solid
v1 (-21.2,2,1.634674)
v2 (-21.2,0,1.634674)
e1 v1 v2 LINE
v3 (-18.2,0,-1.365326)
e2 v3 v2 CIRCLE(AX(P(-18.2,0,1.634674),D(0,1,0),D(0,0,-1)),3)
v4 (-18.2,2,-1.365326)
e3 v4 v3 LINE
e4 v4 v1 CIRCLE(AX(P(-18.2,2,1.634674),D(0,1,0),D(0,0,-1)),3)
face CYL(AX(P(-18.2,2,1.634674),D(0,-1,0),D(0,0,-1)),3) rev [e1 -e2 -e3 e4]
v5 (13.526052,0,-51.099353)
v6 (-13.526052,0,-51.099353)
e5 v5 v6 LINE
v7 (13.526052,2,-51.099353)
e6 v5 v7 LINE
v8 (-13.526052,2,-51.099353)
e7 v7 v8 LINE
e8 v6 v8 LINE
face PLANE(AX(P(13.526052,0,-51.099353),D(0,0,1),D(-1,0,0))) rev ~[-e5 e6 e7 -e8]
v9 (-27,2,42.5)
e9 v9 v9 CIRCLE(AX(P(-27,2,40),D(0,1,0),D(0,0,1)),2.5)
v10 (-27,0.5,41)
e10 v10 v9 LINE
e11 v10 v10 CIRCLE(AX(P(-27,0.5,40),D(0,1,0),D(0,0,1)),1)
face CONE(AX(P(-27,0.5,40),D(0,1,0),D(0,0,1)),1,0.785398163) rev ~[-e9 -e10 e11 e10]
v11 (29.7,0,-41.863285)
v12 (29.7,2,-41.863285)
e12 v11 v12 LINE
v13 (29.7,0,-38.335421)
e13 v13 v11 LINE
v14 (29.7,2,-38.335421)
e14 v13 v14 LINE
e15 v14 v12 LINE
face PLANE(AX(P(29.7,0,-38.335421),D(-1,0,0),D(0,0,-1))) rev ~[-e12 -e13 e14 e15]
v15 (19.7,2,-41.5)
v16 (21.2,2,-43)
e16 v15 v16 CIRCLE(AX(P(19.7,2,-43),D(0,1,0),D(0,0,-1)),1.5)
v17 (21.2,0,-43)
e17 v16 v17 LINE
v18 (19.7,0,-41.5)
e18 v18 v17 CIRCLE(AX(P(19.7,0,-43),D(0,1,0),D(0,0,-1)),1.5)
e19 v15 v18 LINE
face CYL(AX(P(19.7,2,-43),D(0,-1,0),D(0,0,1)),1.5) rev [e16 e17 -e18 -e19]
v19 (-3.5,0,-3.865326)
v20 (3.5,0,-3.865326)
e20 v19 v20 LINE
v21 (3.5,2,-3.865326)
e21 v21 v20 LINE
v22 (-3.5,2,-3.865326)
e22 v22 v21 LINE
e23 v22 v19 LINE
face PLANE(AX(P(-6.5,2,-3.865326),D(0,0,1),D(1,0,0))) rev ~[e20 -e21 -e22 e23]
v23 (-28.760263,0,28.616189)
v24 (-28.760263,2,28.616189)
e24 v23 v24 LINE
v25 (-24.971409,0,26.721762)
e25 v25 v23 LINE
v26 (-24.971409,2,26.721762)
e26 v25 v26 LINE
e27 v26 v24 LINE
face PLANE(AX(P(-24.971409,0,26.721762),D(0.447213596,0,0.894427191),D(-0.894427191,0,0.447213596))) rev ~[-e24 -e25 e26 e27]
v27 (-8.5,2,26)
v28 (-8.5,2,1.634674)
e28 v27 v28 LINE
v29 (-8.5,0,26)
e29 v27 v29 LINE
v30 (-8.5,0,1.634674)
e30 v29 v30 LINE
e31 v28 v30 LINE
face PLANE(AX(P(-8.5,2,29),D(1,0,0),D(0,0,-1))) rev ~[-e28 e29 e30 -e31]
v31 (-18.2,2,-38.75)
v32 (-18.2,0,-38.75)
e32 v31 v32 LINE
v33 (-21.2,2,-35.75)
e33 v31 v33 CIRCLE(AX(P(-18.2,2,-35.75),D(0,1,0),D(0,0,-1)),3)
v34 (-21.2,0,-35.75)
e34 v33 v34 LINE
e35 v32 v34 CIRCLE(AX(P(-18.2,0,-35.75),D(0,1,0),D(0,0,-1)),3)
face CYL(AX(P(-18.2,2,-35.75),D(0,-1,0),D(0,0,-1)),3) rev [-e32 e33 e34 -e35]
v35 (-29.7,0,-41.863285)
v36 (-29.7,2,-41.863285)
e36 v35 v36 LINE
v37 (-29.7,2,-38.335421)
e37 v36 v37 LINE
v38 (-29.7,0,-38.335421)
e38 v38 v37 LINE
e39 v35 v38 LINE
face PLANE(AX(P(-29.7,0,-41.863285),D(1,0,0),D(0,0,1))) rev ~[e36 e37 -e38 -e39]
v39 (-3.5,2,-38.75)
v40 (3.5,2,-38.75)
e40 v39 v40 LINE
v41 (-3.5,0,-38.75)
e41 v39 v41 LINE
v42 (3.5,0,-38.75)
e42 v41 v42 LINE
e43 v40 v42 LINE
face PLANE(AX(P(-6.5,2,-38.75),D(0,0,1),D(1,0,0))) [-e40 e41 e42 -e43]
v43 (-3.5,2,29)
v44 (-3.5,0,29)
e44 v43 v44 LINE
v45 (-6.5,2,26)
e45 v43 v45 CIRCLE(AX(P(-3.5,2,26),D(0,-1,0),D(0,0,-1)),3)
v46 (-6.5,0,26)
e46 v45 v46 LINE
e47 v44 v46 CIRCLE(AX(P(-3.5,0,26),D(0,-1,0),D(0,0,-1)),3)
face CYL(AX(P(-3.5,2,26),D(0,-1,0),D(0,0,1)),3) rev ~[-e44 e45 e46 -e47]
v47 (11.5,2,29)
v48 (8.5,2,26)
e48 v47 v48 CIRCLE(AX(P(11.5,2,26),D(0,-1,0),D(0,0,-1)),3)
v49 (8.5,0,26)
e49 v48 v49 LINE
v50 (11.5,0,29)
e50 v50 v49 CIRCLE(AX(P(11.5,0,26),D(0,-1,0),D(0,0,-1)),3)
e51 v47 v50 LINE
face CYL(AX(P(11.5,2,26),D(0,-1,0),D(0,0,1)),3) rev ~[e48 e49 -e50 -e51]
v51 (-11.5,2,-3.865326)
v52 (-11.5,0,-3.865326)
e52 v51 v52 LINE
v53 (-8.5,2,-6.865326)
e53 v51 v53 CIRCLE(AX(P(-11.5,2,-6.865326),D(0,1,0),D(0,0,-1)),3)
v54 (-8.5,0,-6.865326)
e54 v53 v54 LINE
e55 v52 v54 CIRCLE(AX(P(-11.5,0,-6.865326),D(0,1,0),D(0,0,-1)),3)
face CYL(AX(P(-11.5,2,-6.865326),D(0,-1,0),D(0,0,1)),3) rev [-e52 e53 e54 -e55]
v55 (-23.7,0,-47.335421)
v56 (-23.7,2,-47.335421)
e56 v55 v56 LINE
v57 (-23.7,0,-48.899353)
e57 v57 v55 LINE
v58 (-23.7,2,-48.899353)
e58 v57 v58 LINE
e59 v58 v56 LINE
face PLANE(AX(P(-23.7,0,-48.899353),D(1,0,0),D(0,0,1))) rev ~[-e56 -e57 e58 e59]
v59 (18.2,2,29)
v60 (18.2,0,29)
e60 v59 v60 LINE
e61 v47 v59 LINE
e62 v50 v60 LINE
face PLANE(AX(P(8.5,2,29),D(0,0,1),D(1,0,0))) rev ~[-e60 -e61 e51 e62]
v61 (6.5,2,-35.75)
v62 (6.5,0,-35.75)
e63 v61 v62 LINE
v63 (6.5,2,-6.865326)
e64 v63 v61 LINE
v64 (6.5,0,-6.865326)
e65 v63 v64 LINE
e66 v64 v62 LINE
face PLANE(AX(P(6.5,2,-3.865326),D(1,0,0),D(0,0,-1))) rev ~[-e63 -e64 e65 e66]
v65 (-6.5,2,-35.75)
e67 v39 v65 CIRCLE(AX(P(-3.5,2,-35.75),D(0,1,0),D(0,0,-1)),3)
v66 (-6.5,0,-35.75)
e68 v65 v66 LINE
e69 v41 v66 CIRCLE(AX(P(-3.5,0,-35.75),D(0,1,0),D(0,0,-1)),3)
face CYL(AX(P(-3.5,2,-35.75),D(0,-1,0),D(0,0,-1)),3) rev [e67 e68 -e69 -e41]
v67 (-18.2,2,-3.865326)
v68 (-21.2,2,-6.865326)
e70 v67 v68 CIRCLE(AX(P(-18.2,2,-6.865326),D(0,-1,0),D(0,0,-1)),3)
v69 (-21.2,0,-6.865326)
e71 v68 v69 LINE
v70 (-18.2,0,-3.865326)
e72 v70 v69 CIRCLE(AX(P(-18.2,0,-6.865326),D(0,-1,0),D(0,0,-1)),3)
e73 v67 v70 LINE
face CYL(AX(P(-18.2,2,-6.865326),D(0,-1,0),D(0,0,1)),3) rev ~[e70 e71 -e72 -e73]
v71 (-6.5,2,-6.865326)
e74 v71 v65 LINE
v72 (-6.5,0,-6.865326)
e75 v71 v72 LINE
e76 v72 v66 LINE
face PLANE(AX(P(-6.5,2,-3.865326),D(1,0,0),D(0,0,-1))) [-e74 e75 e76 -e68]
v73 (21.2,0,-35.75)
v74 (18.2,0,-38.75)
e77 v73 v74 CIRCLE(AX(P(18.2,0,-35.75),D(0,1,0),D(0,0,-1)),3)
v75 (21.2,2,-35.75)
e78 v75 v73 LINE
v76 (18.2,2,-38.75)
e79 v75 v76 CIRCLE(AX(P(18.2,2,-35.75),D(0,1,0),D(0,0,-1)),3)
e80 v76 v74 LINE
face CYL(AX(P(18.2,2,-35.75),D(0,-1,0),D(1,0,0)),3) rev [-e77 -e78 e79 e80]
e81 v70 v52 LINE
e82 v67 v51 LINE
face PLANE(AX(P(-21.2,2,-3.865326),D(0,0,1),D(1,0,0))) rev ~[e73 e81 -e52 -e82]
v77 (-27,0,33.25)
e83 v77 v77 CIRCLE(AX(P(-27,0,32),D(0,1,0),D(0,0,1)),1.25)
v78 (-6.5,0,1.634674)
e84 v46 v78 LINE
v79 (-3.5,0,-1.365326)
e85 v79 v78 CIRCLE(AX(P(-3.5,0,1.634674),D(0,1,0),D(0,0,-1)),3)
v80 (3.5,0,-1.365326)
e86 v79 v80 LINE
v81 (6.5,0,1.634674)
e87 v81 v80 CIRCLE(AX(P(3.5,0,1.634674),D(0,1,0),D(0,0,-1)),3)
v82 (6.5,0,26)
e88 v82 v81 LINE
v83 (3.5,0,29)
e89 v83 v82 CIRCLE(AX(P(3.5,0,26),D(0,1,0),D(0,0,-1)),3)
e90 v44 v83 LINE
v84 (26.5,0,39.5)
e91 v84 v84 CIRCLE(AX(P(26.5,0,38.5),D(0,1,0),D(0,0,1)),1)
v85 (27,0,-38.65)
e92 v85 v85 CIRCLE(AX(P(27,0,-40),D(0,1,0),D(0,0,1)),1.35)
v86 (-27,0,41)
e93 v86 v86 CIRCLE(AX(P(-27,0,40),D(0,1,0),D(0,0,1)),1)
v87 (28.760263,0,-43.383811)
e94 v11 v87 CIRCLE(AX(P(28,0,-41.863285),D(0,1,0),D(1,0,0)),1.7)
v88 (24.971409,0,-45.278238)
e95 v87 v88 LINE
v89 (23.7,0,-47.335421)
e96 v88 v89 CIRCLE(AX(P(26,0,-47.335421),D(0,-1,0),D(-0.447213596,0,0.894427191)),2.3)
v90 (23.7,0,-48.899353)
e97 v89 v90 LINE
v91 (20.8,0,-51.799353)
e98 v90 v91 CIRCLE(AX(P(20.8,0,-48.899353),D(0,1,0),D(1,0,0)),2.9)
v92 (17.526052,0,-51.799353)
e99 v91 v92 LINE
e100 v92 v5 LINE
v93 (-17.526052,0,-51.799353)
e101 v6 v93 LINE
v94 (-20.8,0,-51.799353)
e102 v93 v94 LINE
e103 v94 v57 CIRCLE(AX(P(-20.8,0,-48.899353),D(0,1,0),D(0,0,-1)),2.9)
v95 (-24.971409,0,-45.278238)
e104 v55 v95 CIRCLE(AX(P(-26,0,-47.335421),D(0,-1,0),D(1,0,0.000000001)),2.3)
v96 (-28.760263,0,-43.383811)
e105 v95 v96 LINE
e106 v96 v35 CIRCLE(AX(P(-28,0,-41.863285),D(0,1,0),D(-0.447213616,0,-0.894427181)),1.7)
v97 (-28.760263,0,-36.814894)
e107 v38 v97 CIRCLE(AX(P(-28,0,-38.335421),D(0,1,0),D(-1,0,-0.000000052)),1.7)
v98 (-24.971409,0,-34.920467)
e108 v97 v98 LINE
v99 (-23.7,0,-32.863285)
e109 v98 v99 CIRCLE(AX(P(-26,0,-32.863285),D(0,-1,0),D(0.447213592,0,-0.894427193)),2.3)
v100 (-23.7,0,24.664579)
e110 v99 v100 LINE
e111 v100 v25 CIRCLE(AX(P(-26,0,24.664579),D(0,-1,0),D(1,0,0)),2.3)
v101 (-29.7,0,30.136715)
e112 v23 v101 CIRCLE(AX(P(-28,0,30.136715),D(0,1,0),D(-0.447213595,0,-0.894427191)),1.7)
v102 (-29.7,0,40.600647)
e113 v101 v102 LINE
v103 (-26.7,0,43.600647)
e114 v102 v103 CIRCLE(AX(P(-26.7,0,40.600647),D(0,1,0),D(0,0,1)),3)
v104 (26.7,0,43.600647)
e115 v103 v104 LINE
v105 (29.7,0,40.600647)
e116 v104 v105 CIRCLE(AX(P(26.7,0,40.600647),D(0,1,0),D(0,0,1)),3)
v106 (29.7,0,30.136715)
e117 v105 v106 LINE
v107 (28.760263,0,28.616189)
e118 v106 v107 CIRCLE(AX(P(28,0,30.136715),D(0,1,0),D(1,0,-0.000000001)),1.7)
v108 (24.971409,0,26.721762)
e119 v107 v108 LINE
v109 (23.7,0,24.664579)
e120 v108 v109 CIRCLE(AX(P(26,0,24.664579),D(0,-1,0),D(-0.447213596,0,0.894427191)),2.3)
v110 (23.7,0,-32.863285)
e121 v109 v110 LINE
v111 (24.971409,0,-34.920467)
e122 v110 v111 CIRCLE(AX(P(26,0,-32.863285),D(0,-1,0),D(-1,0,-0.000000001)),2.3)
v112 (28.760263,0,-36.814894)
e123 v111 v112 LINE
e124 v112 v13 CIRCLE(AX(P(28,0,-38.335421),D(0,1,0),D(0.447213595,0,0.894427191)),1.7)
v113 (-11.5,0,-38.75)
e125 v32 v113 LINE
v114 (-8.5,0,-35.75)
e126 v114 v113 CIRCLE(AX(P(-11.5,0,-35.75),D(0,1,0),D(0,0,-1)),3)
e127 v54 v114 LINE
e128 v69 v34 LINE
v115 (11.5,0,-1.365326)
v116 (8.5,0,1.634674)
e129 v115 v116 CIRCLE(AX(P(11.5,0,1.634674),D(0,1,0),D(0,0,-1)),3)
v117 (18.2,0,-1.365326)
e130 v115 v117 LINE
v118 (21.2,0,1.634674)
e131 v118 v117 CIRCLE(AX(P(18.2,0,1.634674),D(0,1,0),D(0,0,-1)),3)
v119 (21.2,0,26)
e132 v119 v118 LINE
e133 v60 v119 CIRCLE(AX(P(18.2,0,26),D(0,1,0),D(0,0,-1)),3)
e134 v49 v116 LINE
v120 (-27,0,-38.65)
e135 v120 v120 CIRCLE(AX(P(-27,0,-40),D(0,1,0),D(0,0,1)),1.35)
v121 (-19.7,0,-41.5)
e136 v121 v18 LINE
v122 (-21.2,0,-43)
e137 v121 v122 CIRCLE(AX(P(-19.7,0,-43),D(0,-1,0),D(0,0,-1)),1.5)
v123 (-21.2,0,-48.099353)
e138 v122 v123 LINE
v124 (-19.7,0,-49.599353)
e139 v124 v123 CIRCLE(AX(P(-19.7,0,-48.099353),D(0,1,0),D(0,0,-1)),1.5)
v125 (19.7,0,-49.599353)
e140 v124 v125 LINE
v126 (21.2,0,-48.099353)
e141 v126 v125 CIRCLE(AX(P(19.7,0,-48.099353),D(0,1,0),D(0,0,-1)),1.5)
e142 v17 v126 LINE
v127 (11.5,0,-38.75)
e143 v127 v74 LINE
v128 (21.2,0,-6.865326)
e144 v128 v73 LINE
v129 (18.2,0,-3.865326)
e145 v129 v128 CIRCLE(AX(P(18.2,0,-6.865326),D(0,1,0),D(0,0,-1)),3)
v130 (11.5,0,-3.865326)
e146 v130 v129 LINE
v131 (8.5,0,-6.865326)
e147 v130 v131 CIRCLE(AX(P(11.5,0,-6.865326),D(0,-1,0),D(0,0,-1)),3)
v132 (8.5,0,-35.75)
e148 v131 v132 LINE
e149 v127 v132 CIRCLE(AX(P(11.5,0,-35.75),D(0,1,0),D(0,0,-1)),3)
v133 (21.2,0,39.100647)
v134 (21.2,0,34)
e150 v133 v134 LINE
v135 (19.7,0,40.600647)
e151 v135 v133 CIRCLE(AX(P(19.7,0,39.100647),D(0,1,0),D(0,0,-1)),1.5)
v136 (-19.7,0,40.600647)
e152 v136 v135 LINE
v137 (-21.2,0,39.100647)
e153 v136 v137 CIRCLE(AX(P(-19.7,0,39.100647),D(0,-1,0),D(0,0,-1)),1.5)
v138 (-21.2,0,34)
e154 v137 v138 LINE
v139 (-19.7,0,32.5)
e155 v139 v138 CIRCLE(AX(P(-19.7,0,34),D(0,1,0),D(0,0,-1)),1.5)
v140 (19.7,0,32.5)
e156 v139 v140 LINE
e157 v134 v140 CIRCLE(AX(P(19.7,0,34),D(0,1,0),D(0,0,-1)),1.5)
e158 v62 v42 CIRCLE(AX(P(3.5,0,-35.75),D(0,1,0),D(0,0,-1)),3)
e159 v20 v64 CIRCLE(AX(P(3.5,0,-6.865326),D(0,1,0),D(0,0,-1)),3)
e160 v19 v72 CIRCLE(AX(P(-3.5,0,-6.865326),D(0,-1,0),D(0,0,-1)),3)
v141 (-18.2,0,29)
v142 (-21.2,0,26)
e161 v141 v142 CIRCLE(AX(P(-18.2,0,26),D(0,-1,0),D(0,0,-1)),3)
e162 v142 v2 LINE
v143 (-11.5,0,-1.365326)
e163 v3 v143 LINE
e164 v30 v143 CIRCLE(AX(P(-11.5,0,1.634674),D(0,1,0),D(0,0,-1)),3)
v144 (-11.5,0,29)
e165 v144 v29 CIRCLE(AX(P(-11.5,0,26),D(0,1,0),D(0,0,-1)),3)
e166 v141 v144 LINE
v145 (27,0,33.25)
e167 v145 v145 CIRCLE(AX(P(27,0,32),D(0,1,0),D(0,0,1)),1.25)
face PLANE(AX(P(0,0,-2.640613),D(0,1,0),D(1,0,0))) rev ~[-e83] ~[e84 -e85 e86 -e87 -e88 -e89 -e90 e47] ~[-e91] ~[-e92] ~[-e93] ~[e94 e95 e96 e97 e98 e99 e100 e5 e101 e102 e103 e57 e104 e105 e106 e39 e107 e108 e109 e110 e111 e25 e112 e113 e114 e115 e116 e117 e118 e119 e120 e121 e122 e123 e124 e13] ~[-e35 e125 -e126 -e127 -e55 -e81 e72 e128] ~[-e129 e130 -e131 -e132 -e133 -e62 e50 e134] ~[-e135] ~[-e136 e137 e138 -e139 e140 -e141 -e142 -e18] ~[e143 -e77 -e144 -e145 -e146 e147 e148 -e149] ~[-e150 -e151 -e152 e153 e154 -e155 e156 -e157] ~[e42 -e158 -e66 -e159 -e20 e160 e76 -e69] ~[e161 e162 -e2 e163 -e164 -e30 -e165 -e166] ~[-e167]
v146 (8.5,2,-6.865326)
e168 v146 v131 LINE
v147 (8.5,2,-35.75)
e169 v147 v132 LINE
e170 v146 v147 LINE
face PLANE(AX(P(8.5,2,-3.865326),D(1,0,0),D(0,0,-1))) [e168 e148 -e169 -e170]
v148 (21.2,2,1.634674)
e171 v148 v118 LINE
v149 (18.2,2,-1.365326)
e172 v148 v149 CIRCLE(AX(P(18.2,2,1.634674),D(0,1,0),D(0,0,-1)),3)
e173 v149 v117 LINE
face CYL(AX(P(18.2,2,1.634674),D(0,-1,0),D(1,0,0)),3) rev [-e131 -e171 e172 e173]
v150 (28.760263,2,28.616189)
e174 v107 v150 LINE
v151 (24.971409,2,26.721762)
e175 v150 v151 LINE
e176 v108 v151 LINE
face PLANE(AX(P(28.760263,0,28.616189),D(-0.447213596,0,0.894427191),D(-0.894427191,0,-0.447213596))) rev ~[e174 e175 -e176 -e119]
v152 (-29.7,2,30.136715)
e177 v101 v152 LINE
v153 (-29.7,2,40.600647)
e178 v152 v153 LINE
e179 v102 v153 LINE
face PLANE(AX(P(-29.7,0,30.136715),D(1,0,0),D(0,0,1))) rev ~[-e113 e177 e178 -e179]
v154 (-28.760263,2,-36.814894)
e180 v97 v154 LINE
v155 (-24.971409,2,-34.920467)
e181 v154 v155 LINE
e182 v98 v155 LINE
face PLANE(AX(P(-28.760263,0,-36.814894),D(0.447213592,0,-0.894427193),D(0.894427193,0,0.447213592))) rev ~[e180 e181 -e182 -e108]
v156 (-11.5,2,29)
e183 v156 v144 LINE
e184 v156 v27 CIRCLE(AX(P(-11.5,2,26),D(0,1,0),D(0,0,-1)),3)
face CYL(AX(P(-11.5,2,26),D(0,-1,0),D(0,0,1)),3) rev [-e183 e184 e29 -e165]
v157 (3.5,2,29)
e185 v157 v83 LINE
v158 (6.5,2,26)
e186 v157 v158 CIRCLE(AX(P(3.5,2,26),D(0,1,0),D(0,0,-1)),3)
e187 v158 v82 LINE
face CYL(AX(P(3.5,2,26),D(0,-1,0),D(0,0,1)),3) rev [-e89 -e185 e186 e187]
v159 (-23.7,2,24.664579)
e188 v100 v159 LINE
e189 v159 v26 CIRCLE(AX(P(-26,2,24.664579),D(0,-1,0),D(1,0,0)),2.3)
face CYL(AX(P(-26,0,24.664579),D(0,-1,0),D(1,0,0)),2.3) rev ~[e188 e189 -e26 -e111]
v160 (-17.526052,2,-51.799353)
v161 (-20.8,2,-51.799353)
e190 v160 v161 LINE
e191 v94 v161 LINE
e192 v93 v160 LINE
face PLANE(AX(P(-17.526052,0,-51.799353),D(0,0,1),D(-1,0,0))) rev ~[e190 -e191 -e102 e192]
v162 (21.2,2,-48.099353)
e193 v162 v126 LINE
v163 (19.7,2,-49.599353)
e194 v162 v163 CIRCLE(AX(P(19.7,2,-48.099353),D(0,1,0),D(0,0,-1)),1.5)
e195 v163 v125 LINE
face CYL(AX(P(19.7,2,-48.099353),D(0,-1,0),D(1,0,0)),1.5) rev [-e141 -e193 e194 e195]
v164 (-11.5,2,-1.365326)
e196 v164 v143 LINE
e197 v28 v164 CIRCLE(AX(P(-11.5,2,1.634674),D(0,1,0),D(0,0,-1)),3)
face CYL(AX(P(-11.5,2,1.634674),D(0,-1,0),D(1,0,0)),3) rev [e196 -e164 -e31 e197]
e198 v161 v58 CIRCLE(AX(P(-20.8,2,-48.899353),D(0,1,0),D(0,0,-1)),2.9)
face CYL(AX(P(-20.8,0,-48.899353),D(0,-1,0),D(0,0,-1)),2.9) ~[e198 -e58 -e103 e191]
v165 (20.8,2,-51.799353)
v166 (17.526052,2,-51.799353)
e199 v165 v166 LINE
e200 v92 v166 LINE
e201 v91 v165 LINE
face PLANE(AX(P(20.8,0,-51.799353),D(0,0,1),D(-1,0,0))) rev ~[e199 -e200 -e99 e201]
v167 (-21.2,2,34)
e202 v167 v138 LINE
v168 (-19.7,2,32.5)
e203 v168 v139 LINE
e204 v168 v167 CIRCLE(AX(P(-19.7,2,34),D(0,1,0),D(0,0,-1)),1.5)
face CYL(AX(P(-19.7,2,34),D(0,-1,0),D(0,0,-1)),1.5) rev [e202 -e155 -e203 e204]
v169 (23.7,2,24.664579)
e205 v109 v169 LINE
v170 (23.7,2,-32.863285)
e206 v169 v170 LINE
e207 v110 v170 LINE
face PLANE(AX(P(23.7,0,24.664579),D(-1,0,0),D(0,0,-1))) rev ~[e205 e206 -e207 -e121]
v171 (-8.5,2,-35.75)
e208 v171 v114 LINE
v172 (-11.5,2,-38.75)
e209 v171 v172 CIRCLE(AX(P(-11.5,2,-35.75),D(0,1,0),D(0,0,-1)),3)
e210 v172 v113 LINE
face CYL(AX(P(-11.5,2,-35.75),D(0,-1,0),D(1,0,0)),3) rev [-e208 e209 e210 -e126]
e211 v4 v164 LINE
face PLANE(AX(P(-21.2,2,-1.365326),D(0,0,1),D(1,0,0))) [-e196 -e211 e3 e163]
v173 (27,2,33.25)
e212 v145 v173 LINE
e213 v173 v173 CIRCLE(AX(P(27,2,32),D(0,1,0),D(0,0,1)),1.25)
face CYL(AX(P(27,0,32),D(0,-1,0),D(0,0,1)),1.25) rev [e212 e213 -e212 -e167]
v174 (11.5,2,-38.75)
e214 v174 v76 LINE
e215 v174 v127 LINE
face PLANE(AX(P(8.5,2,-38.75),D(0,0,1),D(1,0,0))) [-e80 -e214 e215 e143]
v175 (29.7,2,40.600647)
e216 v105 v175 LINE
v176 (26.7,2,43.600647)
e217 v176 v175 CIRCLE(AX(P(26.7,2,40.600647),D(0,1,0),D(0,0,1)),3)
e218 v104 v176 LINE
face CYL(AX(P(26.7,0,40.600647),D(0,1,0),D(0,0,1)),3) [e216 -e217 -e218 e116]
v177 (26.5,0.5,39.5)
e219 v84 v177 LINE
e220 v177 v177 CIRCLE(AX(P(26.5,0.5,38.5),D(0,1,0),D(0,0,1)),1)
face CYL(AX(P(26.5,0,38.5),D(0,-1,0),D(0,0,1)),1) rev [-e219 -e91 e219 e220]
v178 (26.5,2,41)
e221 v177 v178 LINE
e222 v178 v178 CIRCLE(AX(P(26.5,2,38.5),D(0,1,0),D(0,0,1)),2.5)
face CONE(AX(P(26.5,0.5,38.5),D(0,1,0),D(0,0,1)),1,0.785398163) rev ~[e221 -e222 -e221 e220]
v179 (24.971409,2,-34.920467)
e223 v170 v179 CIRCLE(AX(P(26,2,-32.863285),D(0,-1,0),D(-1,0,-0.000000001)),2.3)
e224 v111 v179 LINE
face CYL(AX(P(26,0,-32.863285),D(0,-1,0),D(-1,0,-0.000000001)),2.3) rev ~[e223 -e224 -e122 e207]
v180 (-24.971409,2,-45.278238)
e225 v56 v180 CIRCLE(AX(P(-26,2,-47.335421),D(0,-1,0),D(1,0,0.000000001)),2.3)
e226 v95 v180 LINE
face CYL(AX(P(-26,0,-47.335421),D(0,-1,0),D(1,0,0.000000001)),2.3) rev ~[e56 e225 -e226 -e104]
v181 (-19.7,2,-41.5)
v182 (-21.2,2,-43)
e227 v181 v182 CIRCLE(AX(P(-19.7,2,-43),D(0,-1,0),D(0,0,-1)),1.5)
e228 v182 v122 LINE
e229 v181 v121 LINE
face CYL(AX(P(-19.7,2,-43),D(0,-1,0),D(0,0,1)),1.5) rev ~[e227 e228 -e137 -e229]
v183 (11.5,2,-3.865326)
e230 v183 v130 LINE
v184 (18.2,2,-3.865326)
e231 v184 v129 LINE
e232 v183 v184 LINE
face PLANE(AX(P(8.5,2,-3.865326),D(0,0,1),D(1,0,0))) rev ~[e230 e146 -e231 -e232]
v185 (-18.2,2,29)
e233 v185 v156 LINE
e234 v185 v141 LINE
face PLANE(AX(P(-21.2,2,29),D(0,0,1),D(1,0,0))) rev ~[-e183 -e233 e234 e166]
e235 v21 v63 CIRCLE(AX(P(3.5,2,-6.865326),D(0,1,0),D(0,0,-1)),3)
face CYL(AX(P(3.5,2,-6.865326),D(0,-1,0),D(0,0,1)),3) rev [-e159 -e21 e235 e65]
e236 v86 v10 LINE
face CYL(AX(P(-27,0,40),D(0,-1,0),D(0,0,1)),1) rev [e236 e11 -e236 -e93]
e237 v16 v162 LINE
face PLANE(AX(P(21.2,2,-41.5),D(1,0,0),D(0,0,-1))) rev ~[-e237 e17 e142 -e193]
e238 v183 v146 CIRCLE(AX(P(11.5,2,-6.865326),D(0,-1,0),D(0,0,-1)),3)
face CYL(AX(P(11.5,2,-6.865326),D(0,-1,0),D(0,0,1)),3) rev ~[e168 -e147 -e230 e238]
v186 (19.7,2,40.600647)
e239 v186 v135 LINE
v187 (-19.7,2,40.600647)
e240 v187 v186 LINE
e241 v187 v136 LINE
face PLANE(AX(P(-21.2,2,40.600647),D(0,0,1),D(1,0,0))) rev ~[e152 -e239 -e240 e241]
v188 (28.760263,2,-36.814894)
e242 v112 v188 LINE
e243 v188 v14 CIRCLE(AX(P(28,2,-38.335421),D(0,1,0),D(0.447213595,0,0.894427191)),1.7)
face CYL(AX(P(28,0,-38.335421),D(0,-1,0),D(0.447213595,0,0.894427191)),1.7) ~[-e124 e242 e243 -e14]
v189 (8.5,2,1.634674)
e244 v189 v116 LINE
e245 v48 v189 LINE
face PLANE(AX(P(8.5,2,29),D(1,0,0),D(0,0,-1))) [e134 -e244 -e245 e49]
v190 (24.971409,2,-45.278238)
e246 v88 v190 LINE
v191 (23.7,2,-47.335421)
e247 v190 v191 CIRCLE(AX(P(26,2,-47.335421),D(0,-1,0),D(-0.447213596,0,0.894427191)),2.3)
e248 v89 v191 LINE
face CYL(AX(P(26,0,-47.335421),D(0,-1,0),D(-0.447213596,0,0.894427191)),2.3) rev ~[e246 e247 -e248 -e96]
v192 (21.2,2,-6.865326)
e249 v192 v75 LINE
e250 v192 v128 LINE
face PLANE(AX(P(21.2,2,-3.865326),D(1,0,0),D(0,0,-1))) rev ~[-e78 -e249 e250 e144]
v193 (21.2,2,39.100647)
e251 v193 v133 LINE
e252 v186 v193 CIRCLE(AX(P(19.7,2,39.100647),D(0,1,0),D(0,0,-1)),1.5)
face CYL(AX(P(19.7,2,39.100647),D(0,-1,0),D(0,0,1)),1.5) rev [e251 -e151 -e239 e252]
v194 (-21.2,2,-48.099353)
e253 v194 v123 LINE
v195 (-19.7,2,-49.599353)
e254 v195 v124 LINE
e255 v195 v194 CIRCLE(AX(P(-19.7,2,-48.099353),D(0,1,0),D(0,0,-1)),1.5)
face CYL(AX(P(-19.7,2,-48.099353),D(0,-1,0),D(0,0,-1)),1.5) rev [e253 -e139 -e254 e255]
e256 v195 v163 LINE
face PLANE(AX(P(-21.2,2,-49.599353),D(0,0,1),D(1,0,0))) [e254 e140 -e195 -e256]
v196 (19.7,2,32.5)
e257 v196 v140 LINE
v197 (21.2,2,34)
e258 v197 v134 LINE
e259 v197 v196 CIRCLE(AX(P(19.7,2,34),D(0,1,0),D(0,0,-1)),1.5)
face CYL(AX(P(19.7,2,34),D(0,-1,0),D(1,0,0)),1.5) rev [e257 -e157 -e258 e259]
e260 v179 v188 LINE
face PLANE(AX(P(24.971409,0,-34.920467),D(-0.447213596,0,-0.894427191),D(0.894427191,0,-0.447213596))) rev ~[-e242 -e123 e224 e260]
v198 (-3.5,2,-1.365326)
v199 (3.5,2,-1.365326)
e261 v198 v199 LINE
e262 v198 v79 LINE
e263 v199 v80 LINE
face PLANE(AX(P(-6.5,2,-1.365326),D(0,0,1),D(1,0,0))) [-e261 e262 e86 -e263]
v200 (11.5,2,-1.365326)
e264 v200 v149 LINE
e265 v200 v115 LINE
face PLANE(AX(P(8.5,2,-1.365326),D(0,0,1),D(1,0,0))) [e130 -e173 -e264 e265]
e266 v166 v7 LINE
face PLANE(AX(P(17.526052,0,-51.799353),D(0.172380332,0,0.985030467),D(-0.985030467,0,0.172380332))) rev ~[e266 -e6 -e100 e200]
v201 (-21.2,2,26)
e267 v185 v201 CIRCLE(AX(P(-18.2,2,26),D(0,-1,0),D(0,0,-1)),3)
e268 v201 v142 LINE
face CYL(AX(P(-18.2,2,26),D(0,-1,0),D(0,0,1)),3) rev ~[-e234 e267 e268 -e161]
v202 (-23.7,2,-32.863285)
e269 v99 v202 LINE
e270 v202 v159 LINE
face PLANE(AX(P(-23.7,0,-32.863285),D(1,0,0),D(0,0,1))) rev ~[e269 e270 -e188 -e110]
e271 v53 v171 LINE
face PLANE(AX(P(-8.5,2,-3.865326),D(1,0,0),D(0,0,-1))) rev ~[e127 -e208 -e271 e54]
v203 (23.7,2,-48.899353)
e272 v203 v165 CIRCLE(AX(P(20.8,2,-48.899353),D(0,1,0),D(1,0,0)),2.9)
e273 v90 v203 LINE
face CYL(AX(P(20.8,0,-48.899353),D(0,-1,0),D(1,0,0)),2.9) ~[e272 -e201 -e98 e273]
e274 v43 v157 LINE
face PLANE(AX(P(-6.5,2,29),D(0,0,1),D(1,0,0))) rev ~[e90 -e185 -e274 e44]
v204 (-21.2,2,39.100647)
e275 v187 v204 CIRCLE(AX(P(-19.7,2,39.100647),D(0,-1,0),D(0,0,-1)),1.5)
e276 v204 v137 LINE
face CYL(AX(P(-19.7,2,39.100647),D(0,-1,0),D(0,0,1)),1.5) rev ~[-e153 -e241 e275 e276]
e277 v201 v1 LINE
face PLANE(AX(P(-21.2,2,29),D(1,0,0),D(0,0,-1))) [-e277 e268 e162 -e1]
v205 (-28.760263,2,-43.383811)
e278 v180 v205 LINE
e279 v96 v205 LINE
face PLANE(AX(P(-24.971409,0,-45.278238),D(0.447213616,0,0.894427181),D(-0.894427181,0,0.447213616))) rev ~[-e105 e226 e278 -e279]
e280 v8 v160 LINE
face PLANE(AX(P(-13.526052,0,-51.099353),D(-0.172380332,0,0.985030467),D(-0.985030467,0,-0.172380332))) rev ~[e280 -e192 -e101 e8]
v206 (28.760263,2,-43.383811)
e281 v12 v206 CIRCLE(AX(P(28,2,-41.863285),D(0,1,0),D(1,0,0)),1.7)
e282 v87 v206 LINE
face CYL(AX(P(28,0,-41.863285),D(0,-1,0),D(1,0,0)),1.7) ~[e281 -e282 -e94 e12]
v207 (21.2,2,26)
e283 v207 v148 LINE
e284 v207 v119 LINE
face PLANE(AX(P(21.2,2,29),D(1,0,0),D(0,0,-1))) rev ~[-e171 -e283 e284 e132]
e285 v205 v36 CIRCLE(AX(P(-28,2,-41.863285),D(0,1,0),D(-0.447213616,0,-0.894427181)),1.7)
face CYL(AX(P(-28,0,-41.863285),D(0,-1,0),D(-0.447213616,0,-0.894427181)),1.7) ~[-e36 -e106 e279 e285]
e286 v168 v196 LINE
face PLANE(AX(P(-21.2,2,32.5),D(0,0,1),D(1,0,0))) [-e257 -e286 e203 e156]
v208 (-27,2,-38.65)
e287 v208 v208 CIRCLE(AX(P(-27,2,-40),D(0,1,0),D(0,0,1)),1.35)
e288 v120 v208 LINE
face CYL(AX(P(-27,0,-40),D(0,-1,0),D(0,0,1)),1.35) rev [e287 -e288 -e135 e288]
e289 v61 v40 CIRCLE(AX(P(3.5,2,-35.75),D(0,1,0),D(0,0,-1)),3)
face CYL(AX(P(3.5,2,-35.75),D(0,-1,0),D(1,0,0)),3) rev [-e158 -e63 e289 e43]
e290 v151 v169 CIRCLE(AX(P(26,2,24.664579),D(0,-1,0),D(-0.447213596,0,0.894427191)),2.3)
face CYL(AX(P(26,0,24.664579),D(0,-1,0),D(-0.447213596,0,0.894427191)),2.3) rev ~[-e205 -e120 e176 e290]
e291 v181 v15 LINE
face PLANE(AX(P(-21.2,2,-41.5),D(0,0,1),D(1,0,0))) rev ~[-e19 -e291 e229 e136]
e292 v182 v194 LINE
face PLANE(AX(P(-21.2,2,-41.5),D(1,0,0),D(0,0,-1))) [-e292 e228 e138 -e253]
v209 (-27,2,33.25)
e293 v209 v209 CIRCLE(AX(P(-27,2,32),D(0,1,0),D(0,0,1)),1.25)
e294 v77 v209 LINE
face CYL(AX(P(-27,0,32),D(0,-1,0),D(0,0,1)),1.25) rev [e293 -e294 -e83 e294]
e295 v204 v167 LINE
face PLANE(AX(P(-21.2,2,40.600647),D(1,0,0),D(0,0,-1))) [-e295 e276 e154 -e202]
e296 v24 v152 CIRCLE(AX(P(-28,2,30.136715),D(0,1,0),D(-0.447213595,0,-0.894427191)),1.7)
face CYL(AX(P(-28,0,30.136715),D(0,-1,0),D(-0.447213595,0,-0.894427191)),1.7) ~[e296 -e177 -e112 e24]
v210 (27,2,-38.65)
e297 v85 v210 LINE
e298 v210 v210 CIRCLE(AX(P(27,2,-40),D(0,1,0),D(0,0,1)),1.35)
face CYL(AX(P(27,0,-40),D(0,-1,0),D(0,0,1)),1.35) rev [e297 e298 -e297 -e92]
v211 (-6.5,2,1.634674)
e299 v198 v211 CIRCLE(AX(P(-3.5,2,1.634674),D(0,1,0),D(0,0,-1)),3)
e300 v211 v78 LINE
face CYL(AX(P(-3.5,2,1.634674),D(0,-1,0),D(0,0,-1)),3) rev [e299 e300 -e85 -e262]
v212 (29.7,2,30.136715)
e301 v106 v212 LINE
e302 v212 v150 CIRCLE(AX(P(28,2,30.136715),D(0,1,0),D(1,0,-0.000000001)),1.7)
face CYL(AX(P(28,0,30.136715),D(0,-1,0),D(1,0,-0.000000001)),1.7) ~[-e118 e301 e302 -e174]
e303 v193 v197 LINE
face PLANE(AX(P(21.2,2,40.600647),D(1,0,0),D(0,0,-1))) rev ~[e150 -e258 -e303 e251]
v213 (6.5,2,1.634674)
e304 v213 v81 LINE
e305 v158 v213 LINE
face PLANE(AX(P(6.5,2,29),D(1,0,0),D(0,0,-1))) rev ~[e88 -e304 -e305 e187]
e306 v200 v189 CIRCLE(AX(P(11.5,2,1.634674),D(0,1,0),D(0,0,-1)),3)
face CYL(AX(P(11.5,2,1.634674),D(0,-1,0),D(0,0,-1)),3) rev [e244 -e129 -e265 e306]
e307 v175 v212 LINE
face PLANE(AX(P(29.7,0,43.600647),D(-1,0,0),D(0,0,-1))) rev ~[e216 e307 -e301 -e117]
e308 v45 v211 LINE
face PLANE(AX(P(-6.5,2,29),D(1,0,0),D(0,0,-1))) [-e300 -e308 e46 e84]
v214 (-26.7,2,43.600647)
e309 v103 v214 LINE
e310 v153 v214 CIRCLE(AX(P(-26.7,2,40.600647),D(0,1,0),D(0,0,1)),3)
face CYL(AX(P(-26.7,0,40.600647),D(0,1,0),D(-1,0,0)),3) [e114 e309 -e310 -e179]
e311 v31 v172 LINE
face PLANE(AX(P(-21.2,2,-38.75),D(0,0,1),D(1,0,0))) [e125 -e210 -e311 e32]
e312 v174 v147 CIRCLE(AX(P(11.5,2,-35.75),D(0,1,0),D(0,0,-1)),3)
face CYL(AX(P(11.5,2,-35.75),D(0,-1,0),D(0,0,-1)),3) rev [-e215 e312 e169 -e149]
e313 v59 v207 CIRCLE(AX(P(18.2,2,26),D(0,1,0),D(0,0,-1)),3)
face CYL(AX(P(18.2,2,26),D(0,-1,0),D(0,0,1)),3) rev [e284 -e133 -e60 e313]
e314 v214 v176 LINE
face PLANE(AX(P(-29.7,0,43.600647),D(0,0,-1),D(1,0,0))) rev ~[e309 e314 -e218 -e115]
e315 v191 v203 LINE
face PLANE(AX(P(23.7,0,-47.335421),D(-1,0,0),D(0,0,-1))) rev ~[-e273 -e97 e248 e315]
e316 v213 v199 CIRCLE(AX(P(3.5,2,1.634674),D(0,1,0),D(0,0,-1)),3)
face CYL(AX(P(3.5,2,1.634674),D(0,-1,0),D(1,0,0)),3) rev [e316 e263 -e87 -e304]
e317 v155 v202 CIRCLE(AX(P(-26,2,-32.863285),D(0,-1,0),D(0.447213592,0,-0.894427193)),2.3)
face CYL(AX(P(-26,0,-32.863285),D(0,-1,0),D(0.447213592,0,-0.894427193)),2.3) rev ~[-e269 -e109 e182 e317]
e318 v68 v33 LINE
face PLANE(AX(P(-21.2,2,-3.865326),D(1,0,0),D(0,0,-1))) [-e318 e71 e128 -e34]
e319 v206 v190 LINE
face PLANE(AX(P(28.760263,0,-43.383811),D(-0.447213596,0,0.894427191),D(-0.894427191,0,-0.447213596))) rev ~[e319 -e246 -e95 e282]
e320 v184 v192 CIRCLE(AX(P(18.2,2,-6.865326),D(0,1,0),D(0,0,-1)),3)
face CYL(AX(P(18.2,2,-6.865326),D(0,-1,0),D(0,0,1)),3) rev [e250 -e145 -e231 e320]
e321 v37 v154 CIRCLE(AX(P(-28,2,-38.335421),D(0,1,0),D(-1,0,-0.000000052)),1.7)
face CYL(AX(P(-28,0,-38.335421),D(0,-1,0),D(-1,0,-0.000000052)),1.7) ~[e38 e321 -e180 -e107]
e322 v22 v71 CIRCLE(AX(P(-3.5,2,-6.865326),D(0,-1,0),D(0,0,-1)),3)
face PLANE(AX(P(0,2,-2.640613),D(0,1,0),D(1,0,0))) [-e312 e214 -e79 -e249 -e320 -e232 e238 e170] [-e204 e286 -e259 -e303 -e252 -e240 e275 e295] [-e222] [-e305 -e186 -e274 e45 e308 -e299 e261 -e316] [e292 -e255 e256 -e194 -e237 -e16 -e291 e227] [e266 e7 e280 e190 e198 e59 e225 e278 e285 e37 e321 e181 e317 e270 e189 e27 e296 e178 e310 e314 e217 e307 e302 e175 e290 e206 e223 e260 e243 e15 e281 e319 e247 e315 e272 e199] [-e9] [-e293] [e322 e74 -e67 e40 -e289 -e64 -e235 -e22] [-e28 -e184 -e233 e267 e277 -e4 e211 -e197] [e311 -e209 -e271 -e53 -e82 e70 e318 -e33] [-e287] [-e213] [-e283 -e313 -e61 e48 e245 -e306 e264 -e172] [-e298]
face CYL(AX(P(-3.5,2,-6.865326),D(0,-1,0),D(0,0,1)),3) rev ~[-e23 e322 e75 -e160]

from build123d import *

# Parameters (mm, degrees)
SKETCH_1_R          = 1.35
SKETCH_1_R_2        = 1
SKETCH_1_R_3        = 1.25
EXTRUDE_1_DEPTH     = 2
FILLET_1_R          = 3
SKETCH_3_W          = 12.7
SKETCH_3_H          = 30.365325547
SKETCH_3_W_2        = 13
SKETCH_3_H_2        = 34.884674453
SKETCH_3_W_3        = 42.4
SKETCH_3_H_3        = 8.100647313
SKETCH_3_H_4        = 8.099352903
CUT_EXTRUDE_1_DEPTH = 60.74330897
FILLET_2_R          = 3
FILLET_3_R          = 1.5
CHAMFER_1_SIZE      = 1.5


with BuildPart() as part:
    # 草图1 → 凸台-拉伸1 (new body)
    with BuildSketch(Plane(origin=(0, 0, 0), x_dir=(1, 0, 0), z_dir=(0, 1, 0))):
        with BuildLine():
            Line((-29.7, -30.13671529), (-29.7, -43.600647313))
            Line((-29.7, -43.600647313), (29.7, -43.600647313))
            Line((29.7, -43.600647313), (29.7, -30.13671529))
            ThreePointArc((29.7, -30.13671529), (29.446106374, -29.2429724), (28.760263112, -28.616189066))
            Line((28.760263112, -28.616189066), (24.97140873, -26.721761875))
            ThreePointArc((24.97140873, -26.721761875), (24.043503141, -25.873760893), (23.7, -24.664579335))
            Line((23.7, -24.664579335), (23.7, 32.86328471))
            ThreePointArc((23.7, 32.86328471), (24.043503141, 34.072466267), (24.97140873, 34.920467249))
            Line((24.97140873, 34.920467249), (28.760263112, 36.81489444))
            ThreePointArc((28.760263112, 36.81489444), (29.446106374, 37.441677774), (29.7, 38.335420665))
            Line((29.7, 38.335420665), (29.7, 41.863284896))
            ThreePointArc((29.7, 41.863284896), (29.446106374, 42.757027787), (28.760263112, 43.383811121))
            Line((28.760263112, 43.383811121), (24.971408673, 45.278238341))
            ThreePointArc((24.971408673, 45.278238341), (24.043503084, 46.126239322), (23.699999943, 47.33542088))
            Line((23.699999943, 47.33542088), (23.699999943, 48.899352903))
            ThreePointArc((23.699999943, 48.899352903), (22.850609608, 50.949962568), (20.799999943, 51.799352902))
            Line((20.799999943, 51.799352902), (17.526051986, 51.799352902))
            Line((17.526051986, 51.799352902), (13.526051986, 51.099352903))
            Line((13.526051986, 51.099352903), (-13.5260521, 51.099352903))
            Line((-13.5260521, 51.099352903), (-17.5260521, 51.799352903))
            Line((-17.5260521, 51.799352903), (-20.800000057, 51.799352903))
            ThreePointArc((-20.800000057, 51.799352903), (-22.850609723, 50.949962568), (-23.700000057, 48.899352903))
            Line((-23.700000057, 48.899352903), (-23.700000057, 47.33542088))
            ThreePointArc((-23.700000057, 47.33542088), (-24.043503184, 46.126239345), (-24.97140874, 45.278238364))
            Line((-24.97140874, 45.278238364), (-28.760263161, 43.383811045))
            ThreePointArc((-28.760263161, 43.383811045), (-29.446106456, 42.757027659), (-29.700000093, 41.86328471))
            Line((-29.700000093, 41.86328471), (-29.700000093, 38.335420665))
            ThreePointArc((-29.700000093, 38.335420665), (-29.446106448, 37.44167771), (-28.760263093, 36.814894415))
            Line((-28.760263093, 36.814894415), (-24.971408738, 34.920467256))
            ThreePointArc((-24.971408738, 34.920467256), (-24.043503143, 34.072466274), (-23.7, 32.863284713))
            Line((-23.7, 32.863284713), (-23.7, -24.664579335))
            ThreePointArc((-23.7, -24.664579335), (-24.043503141, -25.873760893), (-24.97140873, -26.721761875))
            Line((-24.97140873, -26.721761875), (-28.760263112, -28.616189066))
            ThreePointArc((-28.760263112, -28.616189066), (-29.446106374, -29.2429724), (-29.7, -30.13671529))
        make_face()
        with Locations(Location((-27, 40, 0), (0, 0, 270))):
            Circle(SKETCH_1_R, mode=Mode.SUBTRACT)
        with Locations(Location((27, 40, 0), (0, 0, 270))):
            Circle(SKETCH_1_R, mode=Mode.SUBTRACT)
        with Locations(Location((-27, -40, 0), (0, 0, 270))):
            Circle(SKETCH_1_R_2, mode=Mode.SUBTRACT)
        with Locations(Location((26.5, -38.5, 0), (0, 0, 270))):
            Circle(SKETCH_1_R_2, mode=Mode.SUBTRACT)
        with Locations(Location((-27, -32, 0), (0, 0, 270))):
            Circle(SKETCH_1_R_3, mode=Mode.SUBTRACT)
        with Locations(Location((27, -32, 0), (0, 0, 270))):
            Circle(SKETCH_1_R_3, mode=Mode.SUBTRACT)
    extrude(amount=EXTRUDE_1_DEPTH)

    # 圆角1
    fillet_1_edges = [part.edges().sort_by_distance(p)[0] for p in [
        (29.7, 1, 43.600647313),
        (-29.7, 1, 43.600647313),
    ]]
    fillet(fillet_1_edges, radius=FILLET_1_R)

    # 草图3 → 切除-拉伸1 (cut, through all)
    with BuildSketch(Plane(origin=(0, 2, 0), x_dir=(1, 0, 0), z_dir=(0, 1, 0))):
        with Locations((14.85, -13.817337227)):
            Rectangle(SKETCH_3_W, SKETCH_3_H)
        with Locations((0, -13.817337227)):
            Rectangle(SKETCH_3_W_2, SKETCH_3_H)
        with Locations((-14.85, 21.307662773)):
            Rectangle(SKETCH_3_W, SKETCH_3_H_2)
        with Locations((0, 21.307662773)):
            Rectangle(SKETCH_3_W_2, SKETCH_3_H_2)
        with Locations((-14.85, -13.817337227)):
            Rectangle(SKETCH_3_W, SKETCH_3_H)
        with Locations((14.85, 21.307662773)):
            Rectangle(SKETCH_3_W, SKETCH_3_H_2)
        with Locations((0, -36.550323656)):
            Rectangle(SKETCH_3_W_3, SKETCH_3_H_3)
        with Locations((0, 45.549676452)):
            Rectangle(SKETCH_3_W_3, SKETCH_3_H_4)
    extrude(amount=-CUT_EXTRUDE_1_DEPTH, mode=Mode.SUBTRACT)

    # 圆角2
    fillet_2_edges = [part.edges().sort_by_distance(p)[0] for p in [
        (21.2, 1, -1.365325547),
        (21.2, 1, 29),
        (8.5, 1, 29),
        (8.5, 1, -1.365325547),
        (-21.2, 1, 29),
        (-21.2, 1, -1.365325547),
        (-8.5, 1, -1.365325547),
        (-8.5, 1, 29),
        (-6.5, 1, 29),
        (-6.5, 1, -1.365325547),
        (6.5, 1, -1.365325547),
        (6.5, 1, 29),
        (-6.5, 1, -3.865325547),
        (-6.5, 1, -38.75),
        (6.5, 1, -38.75),
        (6.5, 1, -3.865325547),
        (21.2, 1, -38.75),
        (21.2, 1, -3.865325547),
        (8.5, 1, -3.865325547),
        (8.5, 1, -38.75),
        (-21.2, 1, -3.865325547),
        (-21.2, 1, -38.75),
        (-8.5, 1, -38.75),
        (-8.5, 1, -3.865325547),
    ]]
    fillet(fillet_2_edges, radius=FILLET_2_R)

    # 圆角3
    fillet_3_edges = [part.edges().sort_by_distance(p)[0] for p in [
        (-21.2, 1, 40.600647313),
        (-21.2, 1, 32.5),
        (21.2, 1, 32.5),
        (21.2, 1, 40.600647313),
        (-21.2, 1, -41.5),
        (-21.2, 1, -49.599352903),
        (21.2, 1, -49.599352903),
        (21.2, 1, -41.5),
    ]]
    fillet(fillet_3_edges, radius=FILLET_3_R)

    # 倒角1
    chamfer_1_edges = [part.edges().sort_by_distance(p)[0] for p in [
        (-27, 2, 39),
        (26.5, 2, 37.5),
    ]]
    chamfer(chamfer_1_edges, length=CHAMFER_1_SIZE)


solid = part.part
